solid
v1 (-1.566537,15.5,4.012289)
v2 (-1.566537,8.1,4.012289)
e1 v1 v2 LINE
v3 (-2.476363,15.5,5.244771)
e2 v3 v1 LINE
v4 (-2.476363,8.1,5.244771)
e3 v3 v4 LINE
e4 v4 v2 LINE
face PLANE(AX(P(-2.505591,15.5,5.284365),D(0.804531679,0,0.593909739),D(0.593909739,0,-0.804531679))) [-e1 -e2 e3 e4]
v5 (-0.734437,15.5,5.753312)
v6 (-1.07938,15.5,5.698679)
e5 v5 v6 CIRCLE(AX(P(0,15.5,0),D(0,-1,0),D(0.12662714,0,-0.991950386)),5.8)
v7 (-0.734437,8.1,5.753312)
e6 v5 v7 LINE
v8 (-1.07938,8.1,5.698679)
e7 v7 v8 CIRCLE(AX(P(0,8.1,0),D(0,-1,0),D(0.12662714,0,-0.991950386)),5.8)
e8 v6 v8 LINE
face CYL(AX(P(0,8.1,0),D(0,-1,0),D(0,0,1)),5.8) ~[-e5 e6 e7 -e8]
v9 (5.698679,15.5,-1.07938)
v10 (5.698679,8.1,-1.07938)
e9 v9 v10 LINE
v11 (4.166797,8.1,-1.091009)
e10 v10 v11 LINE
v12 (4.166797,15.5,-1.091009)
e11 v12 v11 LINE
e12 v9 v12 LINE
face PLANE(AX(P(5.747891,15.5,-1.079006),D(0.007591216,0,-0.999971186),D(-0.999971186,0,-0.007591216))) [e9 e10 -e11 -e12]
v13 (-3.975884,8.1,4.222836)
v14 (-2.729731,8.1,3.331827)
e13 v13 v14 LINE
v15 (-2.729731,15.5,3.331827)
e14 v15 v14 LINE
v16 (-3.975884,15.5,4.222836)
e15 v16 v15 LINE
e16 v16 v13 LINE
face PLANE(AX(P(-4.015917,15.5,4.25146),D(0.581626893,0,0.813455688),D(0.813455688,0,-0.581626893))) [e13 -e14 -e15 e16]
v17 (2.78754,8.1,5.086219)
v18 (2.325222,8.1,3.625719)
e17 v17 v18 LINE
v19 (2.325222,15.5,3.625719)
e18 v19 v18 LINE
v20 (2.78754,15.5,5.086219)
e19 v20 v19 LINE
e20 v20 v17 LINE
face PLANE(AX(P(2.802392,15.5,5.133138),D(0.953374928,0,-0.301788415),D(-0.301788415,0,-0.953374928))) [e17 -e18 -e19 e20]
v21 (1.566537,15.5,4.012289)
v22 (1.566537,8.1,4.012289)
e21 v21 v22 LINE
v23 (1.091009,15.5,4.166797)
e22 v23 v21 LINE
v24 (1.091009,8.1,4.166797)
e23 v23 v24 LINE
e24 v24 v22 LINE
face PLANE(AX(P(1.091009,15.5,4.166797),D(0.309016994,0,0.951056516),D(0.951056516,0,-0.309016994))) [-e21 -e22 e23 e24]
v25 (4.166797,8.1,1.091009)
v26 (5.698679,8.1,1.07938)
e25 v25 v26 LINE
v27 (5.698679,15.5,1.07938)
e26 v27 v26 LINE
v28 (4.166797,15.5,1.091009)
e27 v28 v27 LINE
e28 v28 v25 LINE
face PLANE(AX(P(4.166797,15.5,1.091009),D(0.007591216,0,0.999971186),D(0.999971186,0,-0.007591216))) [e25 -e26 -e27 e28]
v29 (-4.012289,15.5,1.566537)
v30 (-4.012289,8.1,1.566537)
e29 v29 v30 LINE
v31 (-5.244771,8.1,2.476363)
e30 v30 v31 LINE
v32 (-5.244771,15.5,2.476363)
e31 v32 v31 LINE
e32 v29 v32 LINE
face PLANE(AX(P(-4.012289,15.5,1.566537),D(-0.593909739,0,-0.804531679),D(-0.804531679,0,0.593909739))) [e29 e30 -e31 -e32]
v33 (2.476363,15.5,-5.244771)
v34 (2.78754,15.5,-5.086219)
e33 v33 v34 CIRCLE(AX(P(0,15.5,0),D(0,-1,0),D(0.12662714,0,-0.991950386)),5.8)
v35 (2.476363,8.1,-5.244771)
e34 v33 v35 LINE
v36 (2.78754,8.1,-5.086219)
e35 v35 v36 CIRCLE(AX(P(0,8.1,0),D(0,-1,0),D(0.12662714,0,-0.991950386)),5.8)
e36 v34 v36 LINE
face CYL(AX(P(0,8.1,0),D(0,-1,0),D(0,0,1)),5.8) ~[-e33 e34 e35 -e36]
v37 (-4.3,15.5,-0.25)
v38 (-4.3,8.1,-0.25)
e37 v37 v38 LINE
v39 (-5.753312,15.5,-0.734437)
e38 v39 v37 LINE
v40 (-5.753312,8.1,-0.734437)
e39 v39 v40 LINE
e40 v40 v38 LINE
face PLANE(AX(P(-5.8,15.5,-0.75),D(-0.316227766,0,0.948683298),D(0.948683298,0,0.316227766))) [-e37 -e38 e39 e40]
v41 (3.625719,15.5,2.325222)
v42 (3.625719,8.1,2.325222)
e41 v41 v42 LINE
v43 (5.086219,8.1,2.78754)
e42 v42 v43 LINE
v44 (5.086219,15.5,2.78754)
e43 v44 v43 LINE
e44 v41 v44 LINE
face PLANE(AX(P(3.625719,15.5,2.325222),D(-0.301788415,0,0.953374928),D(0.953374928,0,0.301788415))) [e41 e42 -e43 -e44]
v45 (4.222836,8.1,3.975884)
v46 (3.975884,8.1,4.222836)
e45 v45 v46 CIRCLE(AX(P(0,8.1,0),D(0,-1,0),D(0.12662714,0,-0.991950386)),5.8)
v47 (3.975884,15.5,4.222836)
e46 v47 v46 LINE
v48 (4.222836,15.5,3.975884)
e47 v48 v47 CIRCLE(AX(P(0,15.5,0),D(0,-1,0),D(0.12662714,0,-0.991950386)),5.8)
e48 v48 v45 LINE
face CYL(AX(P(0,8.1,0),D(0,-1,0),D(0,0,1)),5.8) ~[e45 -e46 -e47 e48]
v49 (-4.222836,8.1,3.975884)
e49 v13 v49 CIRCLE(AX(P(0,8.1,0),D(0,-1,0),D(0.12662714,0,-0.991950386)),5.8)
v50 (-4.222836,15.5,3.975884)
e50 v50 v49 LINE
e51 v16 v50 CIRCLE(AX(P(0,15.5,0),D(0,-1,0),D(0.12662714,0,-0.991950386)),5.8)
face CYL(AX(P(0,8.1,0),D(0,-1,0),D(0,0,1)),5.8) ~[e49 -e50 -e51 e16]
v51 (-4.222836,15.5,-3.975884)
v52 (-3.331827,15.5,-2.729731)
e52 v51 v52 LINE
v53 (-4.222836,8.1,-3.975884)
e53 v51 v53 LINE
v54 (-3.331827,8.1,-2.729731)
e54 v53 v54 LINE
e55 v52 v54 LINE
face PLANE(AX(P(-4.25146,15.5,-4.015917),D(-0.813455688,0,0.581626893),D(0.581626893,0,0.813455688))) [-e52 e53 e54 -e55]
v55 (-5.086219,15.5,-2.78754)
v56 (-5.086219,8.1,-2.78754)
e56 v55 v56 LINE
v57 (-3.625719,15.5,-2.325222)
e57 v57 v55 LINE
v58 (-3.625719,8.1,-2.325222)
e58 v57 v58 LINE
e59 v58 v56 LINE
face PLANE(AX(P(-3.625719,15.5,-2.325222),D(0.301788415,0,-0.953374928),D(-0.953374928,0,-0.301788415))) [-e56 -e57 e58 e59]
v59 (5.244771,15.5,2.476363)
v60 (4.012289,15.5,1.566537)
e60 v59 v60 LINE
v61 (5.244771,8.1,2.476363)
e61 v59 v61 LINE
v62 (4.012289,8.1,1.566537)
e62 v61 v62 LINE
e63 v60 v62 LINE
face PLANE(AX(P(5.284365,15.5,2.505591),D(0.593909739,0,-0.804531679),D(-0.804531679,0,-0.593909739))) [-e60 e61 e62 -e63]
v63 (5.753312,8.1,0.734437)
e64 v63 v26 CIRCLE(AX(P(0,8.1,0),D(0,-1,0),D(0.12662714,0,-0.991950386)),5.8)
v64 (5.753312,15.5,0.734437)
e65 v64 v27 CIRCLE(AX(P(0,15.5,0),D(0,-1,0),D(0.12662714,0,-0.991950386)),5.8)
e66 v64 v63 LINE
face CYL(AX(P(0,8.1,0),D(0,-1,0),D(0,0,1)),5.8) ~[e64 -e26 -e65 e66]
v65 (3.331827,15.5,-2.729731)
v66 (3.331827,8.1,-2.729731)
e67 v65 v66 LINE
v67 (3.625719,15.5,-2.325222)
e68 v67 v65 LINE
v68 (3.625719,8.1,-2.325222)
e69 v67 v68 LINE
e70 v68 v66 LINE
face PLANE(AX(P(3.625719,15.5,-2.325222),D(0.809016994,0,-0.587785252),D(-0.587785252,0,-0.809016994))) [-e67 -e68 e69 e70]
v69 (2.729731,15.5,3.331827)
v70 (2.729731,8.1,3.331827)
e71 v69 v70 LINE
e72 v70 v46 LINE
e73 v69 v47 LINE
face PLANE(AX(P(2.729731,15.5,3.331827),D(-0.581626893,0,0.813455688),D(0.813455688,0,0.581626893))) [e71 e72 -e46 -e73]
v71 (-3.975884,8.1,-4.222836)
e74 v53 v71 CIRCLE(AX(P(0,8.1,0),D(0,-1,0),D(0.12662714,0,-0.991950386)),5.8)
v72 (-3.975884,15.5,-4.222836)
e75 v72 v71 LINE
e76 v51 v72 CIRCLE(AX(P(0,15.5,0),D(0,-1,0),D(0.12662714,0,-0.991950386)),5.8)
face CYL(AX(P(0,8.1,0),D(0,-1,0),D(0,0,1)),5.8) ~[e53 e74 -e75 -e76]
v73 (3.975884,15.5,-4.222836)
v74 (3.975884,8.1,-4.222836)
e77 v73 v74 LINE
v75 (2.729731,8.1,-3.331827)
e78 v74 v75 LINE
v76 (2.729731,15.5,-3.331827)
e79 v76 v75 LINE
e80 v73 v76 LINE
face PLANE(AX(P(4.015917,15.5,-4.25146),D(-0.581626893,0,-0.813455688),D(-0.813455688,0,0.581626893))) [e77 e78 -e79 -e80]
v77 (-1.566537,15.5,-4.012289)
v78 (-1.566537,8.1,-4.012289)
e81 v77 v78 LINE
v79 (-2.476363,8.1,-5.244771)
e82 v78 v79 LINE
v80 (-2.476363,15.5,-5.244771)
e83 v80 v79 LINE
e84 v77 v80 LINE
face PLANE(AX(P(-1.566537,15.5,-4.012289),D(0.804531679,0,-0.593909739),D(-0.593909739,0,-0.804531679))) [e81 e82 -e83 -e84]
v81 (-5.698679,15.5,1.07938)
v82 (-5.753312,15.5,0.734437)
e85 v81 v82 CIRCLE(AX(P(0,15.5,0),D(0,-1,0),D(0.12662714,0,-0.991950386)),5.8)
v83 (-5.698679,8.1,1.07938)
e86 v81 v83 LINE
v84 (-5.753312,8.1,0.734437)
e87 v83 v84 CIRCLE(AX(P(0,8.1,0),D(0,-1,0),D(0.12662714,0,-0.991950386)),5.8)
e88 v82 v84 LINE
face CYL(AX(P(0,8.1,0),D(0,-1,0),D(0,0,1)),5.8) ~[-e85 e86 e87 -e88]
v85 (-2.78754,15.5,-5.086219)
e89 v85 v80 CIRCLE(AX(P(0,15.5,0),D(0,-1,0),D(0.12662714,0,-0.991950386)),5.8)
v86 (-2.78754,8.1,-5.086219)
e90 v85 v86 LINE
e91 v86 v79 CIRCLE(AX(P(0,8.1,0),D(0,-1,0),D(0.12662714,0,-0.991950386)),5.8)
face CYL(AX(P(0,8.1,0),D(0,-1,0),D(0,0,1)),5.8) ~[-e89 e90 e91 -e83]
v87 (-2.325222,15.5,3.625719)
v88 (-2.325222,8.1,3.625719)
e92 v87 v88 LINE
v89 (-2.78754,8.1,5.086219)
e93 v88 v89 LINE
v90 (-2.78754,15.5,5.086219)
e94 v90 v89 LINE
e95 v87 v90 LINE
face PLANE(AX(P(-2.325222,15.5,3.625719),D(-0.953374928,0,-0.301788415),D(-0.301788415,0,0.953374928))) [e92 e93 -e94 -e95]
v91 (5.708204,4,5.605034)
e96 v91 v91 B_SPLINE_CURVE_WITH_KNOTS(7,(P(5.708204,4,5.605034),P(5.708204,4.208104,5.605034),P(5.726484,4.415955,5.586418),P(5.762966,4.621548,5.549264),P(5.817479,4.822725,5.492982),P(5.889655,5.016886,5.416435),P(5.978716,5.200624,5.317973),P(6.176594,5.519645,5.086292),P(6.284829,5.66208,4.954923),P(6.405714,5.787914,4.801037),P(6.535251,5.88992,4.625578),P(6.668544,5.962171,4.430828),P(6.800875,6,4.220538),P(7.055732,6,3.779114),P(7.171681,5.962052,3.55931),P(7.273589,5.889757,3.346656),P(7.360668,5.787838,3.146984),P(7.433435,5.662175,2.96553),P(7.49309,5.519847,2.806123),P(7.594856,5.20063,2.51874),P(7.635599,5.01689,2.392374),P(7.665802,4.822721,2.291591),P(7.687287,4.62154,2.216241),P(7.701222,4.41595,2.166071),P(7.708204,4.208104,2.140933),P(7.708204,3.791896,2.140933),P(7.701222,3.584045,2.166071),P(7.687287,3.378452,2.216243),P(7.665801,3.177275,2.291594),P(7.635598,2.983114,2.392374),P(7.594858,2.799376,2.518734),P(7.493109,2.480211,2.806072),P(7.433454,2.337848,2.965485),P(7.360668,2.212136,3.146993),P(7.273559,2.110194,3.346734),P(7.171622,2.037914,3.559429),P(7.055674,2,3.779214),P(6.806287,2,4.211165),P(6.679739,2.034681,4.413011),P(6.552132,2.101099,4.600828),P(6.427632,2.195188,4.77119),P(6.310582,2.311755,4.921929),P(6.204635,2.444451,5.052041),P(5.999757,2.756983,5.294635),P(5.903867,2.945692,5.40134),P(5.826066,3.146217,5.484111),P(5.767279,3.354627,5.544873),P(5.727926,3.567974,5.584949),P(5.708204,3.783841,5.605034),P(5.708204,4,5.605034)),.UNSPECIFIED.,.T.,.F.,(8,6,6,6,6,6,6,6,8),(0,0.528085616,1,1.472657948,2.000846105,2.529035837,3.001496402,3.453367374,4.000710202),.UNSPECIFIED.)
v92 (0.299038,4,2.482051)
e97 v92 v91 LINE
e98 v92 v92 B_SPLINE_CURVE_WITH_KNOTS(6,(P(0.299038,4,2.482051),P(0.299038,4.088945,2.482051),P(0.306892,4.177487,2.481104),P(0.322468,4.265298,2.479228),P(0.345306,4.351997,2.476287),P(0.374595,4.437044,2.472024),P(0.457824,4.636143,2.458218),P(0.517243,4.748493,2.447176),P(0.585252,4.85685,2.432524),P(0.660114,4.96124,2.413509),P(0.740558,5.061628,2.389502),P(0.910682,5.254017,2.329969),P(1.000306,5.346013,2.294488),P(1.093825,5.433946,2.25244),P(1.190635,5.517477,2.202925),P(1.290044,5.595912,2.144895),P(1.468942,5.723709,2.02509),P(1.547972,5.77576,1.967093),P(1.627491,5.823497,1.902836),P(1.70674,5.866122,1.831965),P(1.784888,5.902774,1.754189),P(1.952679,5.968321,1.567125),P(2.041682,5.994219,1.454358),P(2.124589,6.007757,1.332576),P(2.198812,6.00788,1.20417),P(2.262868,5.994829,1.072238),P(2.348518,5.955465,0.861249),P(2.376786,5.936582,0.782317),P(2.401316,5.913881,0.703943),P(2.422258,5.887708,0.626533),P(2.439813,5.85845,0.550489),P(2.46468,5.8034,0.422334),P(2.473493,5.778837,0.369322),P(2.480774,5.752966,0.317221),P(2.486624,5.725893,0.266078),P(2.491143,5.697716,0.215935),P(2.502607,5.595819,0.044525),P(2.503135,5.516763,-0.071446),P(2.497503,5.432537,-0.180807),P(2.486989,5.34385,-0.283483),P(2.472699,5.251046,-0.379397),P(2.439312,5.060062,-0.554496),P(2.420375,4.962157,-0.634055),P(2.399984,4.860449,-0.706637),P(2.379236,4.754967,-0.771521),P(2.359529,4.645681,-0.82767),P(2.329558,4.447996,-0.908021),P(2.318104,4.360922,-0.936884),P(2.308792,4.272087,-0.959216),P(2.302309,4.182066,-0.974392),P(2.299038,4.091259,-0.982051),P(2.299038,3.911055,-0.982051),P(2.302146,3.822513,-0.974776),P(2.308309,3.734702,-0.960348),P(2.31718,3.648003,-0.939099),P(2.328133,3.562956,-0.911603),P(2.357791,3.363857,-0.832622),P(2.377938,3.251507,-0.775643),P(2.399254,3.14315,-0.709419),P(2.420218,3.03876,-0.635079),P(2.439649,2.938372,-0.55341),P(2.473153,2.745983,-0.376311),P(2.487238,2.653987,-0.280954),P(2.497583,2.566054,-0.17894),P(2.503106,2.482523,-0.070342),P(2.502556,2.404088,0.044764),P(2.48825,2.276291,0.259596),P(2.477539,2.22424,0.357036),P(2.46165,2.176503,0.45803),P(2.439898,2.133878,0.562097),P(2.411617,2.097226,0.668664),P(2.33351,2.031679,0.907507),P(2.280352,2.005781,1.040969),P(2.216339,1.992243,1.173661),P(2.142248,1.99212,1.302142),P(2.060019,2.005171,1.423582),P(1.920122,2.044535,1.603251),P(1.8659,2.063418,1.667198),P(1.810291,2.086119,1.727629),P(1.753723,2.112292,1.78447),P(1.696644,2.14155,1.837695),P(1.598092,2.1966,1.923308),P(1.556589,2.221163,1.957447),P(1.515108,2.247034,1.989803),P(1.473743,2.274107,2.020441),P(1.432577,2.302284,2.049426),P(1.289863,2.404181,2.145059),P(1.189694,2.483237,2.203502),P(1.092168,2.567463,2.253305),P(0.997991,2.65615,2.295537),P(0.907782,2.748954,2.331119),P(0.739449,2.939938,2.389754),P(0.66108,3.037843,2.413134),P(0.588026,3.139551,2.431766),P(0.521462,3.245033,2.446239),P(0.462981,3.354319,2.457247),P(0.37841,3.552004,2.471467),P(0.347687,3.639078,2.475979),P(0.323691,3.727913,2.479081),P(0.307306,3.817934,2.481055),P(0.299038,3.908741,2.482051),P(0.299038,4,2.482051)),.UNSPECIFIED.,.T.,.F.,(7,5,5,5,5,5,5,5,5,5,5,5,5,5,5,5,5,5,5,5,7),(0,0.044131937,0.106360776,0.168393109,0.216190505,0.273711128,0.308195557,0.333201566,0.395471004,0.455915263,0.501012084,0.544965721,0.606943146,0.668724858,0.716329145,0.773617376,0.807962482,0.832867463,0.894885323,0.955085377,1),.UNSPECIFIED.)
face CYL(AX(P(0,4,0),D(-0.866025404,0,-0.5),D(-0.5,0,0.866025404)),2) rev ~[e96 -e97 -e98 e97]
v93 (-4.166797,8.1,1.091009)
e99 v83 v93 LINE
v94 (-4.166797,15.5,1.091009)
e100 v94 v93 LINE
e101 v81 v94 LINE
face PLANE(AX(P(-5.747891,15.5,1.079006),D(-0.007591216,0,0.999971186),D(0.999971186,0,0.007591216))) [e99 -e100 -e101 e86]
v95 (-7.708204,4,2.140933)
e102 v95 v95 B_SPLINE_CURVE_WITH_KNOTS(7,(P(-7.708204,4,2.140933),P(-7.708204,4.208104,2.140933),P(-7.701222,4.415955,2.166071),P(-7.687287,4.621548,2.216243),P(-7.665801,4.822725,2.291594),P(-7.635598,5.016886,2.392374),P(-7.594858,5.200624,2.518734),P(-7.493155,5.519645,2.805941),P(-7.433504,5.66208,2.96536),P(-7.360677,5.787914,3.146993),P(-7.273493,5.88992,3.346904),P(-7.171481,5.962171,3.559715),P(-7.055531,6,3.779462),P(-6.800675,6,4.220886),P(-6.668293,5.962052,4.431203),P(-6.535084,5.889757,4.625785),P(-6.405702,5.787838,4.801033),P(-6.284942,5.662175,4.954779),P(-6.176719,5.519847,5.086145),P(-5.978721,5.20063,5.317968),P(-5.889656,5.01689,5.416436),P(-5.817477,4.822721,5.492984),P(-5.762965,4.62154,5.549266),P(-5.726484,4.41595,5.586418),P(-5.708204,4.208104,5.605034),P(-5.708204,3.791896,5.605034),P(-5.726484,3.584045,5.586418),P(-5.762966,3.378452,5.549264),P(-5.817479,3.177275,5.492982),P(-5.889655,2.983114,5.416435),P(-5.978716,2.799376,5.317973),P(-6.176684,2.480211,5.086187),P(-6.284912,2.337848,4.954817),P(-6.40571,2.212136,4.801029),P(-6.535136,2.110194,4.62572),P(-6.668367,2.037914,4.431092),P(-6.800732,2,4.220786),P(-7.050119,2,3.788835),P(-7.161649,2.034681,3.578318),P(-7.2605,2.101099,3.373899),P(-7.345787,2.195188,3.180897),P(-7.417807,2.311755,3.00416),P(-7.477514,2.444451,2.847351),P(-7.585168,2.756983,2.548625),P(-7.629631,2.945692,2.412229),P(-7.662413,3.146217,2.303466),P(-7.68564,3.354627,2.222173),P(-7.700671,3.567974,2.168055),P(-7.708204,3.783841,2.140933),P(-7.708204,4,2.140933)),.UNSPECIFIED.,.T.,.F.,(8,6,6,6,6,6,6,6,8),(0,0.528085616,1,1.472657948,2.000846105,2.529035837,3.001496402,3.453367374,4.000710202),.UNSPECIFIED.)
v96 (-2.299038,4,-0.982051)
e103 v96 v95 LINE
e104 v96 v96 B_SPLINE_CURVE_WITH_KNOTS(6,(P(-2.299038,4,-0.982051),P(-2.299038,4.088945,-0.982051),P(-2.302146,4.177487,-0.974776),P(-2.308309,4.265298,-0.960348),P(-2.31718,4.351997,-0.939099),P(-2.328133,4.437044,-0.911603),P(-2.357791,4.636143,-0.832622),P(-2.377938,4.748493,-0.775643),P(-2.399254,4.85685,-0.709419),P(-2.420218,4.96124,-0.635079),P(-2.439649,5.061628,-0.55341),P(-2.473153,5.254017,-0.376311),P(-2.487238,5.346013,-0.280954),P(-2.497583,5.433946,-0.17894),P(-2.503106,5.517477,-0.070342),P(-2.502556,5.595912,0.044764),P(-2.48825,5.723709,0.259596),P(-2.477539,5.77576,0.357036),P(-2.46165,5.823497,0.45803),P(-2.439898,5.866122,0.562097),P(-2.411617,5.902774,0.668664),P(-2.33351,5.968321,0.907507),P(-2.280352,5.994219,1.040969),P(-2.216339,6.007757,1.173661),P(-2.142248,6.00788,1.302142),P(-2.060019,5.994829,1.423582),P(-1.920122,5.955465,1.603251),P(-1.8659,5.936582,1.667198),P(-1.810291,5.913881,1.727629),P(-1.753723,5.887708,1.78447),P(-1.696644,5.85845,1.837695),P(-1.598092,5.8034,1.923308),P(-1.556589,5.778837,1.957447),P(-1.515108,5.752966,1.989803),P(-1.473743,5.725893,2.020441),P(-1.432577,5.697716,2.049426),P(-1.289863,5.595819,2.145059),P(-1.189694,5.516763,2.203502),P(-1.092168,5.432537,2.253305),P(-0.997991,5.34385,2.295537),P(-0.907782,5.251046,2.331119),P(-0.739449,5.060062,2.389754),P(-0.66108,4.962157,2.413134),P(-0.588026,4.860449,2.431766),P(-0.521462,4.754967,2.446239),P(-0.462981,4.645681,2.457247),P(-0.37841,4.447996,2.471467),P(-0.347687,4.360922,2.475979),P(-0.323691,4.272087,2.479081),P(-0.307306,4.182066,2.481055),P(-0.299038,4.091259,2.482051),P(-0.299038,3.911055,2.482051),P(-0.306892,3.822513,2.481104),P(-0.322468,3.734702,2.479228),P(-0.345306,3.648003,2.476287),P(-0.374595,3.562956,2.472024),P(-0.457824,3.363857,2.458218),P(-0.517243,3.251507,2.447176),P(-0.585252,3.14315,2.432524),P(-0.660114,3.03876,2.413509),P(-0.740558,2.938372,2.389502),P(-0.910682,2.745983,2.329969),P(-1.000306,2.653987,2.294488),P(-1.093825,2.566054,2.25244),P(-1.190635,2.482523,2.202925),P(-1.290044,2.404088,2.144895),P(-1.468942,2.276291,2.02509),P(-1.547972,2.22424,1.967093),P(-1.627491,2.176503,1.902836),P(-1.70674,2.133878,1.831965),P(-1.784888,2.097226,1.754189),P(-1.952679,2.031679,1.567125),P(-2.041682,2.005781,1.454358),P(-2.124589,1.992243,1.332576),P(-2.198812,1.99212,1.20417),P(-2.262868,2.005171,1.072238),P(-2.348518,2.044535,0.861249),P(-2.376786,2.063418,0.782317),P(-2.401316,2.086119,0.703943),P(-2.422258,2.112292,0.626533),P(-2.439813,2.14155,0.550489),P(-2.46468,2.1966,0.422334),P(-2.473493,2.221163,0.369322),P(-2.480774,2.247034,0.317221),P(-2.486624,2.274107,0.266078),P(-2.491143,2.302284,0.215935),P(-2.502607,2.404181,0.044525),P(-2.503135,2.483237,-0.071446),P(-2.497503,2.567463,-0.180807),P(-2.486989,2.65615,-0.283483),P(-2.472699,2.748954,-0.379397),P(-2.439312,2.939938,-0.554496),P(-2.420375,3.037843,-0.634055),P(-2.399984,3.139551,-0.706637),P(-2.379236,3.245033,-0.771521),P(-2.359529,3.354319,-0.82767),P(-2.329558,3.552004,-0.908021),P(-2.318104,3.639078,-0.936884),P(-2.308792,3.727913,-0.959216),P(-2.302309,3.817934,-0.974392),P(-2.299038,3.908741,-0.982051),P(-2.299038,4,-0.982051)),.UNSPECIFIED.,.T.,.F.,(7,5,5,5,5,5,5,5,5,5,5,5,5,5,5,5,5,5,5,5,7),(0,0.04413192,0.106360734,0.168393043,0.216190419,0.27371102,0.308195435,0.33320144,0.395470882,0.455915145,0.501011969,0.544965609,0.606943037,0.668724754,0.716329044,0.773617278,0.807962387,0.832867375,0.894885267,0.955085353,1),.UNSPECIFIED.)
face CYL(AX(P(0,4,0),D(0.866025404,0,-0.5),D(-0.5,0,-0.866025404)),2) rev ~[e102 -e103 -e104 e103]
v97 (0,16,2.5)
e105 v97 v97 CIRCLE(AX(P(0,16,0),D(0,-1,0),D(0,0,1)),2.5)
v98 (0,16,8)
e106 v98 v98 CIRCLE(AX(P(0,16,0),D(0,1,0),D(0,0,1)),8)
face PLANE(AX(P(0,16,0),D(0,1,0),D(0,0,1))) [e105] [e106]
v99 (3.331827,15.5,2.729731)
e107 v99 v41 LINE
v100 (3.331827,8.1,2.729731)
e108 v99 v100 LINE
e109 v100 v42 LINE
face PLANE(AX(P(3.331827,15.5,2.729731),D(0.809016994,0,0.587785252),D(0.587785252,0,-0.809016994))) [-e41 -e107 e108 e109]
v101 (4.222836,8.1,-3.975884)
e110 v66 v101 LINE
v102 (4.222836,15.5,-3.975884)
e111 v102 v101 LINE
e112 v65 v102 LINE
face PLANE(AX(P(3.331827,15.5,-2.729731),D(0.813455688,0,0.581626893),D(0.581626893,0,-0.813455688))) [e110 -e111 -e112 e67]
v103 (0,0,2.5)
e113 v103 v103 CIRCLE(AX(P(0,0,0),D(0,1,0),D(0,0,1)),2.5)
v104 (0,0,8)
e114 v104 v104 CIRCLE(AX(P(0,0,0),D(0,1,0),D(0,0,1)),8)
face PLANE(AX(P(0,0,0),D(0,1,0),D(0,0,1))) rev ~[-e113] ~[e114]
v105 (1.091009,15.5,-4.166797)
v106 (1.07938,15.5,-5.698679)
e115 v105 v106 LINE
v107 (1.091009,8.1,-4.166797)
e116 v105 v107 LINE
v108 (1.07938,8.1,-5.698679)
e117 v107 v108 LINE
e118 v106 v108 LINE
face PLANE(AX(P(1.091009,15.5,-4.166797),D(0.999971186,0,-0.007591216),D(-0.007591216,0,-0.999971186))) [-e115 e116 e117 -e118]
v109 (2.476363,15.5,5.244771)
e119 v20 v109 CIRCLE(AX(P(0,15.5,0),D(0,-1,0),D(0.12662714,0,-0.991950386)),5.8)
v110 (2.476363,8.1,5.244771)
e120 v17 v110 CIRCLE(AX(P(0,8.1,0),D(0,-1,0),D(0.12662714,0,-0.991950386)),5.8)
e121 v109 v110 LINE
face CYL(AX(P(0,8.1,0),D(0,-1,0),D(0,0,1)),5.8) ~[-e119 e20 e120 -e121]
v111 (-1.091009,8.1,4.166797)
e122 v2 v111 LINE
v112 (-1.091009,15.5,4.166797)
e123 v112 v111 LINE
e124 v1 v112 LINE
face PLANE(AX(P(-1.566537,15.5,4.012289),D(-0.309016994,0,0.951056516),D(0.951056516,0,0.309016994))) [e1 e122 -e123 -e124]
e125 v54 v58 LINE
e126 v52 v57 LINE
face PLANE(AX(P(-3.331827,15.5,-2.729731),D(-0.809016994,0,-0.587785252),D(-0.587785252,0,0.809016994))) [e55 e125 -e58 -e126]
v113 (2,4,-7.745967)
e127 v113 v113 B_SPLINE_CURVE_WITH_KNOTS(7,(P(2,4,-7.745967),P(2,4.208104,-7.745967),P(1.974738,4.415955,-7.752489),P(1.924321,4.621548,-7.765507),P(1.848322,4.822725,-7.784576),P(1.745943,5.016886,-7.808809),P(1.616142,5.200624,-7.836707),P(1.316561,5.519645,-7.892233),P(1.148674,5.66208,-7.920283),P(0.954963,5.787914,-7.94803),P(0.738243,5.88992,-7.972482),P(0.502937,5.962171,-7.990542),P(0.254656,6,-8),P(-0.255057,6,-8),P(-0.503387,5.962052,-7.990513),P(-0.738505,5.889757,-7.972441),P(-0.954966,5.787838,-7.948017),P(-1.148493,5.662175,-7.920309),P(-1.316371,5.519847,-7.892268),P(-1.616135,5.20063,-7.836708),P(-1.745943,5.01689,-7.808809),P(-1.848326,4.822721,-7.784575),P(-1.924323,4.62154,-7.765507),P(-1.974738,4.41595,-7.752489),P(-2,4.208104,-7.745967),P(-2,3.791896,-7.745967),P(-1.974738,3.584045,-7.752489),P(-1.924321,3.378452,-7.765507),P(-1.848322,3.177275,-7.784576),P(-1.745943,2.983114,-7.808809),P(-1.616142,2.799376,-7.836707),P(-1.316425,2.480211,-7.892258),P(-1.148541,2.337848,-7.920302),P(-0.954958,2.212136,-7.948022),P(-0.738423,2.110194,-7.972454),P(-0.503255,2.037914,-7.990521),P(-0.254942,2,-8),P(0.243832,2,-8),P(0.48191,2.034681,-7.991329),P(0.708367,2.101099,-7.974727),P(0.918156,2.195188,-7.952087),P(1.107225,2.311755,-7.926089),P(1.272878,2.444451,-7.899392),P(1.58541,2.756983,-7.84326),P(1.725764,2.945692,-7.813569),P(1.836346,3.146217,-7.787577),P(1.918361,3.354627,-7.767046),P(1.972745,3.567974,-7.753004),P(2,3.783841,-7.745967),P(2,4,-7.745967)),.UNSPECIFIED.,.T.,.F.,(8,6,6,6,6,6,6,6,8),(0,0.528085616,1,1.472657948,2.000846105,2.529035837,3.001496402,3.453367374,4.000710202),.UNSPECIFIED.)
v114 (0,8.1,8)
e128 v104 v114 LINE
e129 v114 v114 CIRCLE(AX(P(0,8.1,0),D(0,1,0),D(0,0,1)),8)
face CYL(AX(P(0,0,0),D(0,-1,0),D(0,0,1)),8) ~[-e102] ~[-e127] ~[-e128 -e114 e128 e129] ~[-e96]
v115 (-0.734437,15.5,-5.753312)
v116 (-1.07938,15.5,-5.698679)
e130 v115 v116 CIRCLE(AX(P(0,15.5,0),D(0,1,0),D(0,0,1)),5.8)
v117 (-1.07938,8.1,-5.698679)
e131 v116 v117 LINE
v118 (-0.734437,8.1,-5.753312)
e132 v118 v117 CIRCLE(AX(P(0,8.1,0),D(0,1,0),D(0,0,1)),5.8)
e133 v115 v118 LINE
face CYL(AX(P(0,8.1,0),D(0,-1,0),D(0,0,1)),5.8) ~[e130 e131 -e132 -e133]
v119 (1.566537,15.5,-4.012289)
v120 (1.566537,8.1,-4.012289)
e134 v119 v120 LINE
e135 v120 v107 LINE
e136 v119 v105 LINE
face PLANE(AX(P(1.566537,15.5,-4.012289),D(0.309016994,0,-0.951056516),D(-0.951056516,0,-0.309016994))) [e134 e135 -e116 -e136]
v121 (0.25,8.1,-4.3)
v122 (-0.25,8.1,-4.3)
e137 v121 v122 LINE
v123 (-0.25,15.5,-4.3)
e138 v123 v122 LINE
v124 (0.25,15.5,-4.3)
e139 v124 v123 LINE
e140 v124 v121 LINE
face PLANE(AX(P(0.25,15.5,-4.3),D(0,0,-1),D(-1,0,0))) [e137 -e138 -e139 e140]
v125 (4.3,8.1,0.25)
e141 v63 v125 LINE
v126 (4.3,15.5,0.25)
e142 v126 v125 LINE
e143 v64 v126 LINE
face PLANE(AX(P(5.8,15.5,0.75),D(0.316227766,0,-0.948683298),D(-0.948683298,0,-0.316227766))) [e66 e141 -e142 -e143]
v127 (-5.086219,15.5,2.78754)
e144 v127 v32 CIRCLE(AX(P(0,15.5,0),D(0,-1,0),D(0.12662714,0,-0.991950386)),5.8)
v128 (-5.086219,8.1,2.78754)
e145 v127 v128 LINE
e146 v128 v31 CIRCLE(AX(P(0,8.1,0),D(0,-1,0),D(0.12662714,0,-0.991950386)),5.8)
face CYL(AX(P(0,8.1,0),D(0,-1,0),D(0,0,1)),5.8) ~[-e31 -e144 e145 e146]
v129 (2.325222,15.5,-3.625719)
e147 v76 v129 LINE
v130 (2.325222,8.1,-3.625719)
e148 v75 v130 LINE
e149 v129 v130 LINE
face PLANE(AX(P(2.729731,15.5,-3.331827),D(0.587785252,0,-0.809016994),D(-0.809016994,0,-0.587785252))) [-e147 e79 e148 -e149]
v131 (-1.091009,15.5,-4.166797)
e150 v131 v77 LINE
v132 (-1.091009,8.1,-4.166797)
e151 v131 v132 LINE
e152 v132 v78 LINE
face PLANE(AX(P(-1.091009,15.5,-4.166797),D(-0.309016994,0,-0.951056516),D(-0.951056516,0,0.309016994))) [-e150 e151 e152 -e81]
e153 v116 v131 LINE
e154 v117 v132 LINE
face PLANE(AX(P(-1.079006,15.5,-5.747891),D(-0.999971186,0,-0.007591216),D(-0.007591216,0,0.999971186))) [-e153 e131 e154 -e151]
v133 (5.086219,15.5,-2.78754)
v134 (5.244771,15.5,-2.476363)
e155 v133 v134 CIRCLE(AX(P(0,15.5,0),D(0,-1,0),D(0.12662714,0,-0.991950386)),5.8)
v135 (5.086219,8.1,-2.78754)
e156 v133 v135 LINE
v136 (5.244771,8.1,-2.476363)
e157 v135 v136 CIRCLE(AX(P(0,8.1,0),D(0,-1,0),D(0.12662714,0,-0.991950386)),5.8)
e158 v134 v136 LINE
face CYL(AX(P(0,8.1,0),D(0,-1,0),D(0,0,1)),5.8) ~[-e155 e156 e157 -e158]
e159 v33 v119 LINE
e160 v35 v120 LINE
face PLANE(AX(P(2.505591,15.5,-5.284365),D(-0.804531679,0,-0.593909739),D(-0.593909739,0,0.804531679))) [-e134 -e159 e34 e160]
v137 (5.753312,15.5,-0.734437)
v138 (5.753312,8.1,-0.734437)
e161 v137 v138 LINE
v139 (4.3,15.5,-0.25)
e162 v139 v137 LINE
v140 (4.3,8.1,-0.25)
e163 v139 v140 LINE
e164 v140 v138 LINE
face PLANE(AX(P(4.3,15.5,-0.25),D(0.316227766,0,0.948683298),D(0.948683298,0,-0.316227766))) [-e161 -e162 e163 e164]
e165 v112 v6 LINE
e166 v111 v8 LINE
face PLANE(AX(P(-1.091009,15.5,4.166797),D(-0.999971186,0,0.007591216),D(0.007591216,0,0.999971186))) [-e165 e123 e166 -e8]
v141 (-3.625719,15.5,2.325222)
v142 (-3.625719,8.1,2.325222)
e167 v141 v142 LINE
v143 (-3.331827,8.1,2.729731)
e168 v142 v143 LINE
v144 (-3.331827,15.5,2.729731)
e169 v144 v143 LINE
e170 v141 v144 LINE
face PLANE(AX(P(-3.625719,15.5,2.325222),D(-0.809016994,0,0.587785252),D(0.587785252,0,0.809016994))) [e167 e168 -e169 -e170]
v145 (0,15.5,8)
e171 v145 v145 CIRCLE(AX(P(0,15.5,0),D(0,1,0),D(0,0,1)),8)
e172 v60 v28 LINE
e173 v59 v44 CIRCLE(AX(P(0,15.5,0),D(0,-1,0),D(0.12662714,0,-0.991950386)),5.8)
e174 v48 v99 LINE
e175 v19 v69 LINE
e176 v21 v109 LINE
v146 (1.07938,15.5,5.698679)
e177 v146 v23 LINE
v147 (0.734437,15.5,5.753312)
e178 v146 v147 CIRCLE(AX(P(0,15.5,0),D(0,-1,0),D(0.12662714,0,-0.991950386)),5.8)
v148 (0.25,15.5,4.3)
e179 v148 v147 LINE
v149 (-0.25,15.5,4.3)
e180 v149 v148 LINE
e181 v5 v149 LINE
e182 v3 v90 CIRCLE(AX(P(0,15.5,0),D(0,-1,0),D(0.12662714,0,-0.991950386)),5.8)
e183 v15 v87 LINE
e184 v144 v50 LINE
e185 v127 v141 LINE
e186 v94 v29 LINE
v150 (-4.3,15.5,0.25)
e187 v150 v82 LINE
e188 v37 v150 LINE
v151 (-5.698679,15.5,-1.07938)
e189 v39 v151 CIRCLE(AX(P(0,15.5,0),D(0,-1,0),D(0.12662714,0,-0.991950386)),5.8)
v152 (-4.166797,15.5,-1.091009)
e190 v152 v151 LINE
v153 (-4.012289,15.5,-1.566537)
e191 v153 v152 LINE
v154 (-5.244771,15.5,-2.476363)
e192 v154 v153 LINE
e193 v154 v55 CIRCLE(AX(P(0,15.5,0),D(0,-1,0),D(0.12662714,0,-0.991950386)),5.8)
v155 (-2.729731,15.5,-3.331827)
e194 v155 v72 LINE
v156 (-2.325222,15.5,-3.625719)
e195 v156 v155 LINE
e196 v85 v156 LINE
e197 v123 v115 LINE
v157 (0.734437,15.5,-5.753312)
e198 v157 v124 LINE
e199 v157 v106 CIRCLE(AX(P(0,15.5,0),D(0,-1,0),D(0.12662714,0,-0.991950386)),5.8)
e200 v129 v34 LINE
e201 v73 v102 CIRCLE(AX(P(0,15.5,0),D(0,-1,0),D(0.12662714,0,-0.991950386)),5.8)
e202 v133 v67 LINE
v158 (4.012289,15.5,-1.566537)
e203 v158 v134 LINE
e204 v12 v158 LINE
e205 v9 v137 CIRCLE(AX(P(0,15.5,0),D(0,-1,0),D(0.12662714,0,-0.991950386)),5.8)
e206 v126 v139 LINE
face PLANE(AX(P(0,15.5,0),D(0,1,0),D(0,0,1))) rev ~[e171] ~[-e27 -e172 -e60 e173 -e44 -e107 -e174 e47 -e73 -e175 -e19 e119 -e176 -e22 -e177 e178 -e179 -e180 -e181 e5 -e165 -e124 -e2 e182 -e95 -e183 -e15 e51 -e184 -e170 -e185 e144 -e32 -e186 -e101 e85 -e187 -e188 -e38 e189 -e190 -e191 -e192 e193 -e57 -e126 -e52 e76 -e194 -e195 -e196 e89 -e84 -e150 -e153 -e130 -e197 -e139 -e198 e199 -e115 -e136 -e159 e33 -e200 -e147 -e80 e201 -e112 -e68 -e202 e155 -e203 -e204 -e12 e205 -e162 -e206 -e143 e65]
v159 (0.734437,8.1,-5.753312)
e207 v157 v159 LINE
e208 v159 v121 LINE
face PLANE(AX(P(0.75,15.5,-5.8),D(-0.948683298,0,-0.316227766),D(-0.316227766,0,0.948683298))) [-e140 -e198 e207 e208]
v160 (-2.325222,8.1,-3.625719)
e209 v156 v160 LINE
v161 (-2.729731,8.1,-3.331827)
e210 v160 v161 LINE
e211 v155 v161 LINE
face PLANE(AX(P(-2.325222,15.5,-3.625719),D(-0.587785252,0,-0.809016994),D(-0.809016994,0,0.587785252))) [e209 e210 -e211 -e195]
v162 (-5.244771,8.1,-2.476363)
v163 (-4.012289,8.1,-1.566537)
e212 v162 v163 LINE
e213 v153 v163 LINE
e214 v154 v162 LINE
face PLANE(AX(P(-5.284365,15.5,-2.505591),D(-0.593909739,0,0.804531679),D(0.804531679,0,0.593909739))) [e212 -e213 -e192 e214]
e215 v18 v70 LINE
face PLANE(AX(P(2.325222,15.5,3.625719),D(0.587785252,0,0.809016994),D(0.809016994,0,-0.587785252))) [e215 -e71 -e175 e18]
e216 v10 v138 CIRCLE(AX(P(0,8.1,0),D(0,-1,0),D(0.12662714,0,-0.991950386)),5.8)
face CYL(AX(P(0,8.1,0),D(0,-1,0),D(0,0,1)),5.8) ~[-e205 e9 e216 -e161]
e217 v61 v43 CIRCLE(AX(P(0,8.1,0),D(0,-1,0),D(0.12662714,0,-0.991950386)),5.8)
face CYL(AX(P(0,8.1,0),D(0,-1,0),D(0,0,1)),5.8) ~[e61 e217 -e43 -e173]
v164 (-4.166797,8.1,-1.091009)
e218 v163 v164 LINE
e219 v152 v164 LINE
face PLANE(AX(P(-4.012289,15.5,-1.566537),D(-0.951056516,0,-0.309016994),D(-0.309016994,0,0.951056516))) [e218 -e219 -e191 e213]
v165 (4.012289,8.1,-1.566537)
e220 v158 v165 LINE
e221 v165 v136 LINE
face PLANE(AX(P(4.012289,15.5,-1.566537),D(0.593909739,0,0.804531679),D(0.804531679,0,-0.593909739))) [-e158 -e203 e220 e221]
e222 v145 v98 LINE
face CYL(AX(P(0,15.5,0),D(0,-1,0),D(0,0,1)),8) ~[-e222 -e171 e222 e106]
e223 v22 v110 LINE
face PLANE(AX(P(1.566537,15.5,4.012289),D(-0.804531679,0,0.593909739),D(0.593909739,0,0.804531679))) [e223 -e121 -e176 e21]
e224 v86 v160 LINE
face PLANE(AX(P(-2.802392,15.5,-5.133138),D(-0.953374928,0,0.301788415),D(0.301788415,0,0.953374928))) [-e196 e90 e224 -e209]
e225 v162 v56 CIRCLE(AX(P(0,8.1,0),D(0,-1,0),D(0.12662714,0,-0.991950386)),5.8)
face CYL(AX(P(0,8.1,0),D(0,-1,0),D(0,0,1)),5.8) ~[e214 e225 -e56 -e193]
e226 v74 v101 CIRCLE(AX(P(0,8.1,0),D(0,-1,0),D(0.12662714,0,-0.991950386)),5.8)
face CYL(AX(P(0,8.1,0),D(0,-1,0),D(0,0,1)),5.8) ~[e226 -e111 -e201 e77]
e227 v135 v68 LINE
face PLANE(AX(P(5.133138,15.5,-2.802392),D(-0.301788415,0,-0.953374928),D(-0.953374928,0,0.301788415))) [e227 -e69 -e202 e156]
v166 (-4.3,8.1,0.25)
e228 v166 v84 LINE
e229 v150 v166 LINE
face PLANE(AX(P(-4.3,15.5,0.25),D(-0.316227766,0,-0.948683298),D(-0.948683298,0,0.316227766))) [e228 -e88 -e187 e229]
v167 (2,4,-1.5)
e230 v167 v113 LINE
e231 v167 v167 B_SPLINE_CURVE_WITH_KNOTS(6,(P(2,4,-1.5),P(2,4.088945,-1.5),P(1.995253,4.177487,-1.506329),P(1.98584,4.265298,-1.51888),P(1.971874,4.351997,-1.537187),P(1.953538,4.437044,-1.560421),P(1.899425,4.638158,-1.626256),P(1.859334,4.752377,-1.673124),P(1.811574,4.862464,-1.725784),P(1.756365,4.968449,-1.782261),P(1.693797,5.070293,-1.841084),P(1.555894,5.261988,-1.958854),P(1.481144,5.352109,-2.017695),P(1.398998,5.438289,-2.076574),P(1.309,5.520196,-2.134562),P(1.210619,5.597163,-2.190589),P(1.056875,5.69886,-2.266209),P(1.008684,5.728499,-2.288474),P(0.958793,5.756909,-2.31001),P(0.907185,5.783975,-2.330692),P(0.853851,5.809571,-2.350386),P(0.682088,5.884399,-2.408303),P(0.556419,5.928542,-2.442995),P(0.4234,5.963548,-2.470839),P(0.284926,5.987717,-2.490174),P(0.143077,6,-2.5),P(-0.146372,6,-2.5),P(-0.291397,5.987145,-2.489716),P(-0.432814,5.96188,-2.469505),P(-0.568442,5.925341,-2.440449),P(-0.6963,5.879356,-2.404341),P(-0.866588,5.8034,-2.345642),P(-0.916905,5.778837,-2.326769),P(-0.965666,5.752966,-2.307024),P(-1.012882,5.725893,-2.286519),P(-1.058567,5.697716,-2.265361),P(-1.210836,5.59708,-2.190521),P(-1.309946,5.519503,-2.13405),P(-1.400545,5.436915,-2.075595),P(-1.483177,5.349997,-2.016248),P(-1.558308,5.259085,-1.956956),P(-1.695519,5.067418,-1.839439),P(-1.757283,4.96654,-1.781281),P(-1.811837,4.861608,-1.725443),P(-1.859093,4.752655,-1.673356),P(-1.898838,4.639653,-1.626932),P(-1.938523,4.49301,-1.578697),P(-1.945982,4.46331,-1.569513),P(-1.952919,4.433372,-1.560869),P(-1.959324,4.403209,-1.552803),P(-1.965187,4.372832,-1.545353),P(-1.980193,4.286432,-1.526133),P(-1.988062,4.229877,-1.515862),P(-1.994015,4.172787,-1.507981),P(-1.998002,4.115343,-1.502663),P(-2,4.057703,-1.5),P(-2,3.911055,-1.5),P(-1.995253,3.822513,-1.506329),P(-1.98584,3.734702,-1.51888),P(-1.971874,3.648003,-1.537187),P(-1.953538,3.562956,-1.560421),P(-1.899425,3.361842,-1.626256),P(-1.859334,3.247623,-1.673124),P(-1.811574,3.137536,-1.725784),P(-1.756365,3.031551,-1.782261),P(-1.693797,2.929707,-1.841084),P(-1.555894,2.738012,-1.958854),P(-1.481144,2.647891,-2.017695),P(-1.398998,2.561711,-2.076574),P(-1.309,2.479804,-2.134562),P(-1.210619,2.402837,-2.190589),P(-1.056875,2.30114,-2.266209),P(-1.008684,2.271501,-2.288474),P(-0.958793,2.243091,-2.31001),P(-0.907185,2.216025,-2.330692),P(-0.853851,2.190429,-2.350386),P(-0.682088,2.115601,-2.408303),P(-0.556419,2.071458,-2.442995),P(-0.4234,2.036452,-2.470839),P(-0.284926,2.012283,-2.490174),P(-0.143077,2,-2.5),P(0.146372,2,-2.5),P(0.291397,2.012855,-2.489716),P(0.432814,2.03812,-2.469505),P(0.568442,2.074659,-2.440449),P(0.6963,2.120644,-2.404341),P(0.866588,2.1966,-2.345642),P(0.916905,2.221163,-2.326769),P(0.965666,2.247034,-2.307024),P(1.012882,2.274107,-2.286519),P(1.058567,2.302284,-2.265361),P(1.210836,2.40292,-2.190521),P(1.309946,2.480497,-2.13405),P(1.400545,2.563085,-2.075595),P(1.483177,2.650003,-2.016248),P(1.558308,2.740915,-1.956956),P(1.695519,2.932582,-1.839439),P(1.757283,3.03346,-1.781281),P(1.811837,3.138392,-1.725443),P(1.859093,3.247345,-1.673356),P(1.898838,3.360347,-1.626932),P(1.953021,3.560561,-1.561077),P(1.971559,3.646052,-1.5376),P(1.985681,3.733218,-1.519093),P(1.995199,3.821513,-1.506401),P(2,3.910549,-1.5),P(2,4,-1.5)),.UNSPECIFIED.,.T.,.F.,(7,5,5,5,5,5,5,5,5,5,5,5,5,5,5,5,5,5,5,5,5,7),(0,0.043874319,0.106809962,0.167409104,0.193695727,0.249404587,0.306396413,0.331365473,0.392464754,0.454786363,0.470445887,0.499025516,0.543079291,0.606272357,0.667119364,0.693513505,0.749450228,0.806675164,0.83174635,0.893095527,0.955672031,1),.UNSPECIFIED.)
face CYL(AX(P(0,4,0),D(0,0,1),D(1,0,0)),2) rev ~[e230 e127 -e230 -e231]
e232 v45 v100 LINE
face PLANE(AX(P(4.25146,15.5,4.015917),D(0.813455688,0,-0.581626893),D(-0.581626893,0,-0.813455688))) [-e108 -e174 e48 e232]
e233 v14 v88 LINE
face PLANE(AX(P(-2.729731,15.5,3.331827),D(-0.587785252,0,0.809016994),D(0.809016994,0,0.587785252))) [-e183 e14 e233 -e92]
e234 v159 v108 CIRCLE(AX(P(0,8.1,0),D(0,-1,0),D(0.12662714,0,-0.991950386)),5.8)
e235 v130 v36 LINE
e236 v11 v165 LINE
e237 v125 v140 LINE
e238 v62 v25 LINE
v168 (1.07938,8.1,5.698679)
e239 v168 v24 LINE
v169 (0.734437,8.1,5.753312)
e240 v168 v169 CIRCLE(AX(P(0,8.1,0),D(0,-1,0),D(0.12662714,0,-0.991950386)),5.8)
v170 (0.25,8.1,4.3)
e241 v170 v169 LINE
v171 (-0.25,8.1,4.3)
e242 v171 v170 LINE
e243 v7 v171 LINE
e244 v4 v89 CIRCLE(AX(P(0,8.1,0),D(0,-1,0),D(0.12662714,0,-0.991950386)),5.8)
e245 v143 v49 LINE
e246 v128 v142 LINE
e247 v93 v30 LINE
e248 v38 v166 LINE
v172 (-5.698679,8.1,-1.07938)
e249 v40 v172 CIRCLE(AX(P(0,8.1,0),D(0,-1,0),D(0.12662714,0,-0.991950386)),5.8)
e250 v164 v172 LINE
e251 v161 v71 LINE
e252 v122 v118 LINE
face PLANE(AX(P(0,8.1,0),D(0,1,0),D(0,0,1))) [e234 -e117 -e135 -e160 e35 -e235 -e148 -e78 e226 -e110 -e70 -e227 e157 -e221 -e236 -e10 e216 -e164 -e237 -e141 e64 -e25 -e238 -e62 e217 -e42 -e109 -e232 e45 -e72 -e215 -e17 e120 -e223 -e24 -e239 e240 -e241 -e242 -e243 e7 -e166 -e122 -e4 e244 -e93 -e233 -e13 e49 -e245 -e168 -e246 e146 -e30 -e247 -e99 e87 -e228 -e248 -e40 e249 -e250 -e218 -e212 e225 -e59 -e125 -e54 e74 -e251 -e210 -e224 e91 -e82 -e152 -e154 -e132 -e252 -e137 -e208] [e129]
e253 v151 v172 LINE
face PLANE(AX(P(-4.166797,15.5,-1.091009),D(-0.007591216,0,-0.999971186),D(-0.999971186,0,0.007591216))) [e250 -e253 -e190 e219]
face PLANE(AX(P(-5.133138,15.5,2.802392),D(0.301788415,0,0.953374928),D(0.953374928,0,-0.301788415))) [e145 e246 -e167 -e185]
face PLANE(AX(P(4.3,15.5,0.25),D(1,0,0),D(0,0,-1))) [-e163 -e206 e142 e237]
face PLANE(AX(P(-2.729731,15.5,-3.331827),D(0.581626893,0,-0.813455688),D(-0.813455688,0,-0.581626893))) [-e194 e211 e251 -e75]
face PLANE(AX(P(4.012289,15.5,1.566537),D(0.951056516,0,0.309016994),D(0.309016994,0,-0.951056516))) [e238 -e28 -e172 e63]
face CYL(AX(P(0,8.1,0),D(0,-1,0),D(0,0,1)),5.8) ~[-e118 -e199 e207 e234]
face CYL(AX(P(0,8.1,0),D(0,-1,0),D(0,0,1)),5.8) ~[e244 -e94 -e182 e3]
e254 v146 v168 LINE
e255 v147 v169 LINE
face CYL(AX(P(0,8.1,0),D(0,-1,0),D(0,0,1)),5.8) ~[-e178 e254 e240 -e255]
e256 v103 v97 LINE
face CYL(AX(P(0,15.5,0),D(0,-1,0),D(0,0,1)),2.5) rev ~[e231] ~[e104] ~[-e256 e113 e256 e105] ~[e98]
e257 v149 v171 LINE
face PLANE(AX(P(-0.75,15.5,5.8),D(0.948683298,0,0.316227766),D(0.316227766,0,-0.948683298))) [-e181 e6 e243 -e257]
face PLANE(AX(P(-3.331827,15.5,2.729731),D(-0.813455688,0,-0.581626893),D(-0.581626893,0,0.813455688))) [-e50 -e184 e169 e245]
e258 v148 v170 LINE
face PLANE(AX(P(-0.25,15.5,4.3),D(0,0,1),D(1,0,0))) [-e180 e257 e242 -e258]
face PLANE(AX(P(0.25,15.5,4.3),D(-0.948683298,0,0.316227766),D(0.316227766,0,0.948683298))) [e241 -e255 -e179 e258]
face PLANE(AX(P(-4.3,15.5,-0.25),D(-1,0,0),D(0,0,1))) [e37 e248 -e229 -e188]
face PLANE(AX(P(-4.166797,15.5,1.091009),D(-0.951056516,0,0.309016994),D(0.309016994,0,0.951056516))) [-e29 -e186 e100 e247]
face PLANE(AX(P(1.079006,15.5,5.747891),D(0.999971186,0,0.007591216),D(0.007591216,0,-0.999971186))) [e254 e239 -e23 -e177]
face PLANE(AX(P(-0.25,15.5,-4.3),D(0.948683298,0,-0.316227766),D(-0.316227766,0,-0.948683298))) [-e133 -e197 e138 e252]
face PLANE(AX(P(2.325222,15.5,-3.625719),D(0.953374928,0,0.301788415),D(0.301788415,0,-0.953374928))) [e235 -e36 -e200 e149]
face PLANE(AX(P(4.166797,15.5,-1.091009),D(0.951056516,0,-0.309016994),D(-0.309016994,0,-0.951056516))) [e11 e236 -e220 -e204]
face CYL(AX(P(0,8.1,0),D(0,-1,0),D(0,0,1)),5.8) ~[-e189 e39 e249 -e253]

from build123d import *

# Parameters (mm, degrees)
SKETCH11_R               = 8
BOSS_EXTRUDE5_DEPTH      = 15.5
SKETCH12_R               = 2.5
CUT_EXTRUDE9_DEPTH       = 20.189841062
CUT_EXTRUDE11_START      = -7.4
SKETCH14_R               = 8
SKETCH14_R_2             = 5.8
CUT_EXTRUDE11_DEPTH      = 7.4
CUT_EXTRUDE12_DEPTH      = 7.4
CIRPATTERN5_COUNT        = 20
SKETCH16_R               = 8
BOSS_EXTRUDE6_DEPTH      = 0.5
SKETCH17_R               = 2.5
CUT_EXTRUDE13_DEPTH      = 20.189841062
CUT_EXTRUDE14_REACH      = 21.596
CUT_EXTRUDE14_END_RADIUS = 8
SKETCH18_R               = 2
CIRPATTERN6_COUNT        = 3


with BuildPart() as part:
    # Sketch11 → Boss-Extrude5 (new body)
    with BuildSketch(Plane(origin=(0, 0, 0), x_dir=(1, 0, 0), z_dir=(0, 1, 0))):
        with Locations(Location((0, 0, 0), (0, 0, 270))):
            Circle(SKETCH11_R)
    extrude(amount=BOSS_EXTRUDE5_DEPTH)

    # Sketch12 → Cut-Extrude9 (cut, through all)
    with BuildSketch(Plane(origin=(0, 15.5, 0), x_dir=(1, 0, 0), z_dir=(0, 1, 0))):
        with Locations(Location((0, 0, 0), (0, 0, 270))):
            Circle(SKETCH12_R)
    extrude(amount=-CUT_EXTRUDE9_DEPTH, mode=Mode.SUBTRACT)

    # Sketch14 → Cut-Extrude11 (cut)
    with BuildSketch(Plane(origin=(0, 15.5, 0), x_dir=(1, 0, 0), z_dir=(0, 1, 0)).offset(CUT_EXTRUDE11_START)):
        with Locations(Location((0, 0, 0), (0, 0, 270))):
            Circle(SKETCH14_R)
        with Locations(Location((0, 0, 0), (0, 0, 270))):
            Circle(SKETCH14_R_2, mode=Mode.SUBTRACT)
    extrude(amount=CUT_EXTRUDE11_DEPTH, mode=Mode.SUBTRACT)

    # Sketch15 → Cut-Extrude12 (cut)
    with BuildSketch(Plane(origin=(0, 15.5, 0), x_dir=(1, 0, 0), z_dir=(0, 1, 0))):
        Polygon((-0.75, 5.8), (0.75, 5.8), (0.25, 4.3), (-0.25, 4.3), align=None)
    cut_extrude12 = extrude(amount=-CUT_EXTRUDE12_DEPTH, mode=Mode.SUBTRACT)

    # CirPattern5: Cut-Extrude12 ×20 about axis
    cirpattern5_axis = Axis((0, 0, 0), (0, 1, 0))
    for i in range(1, CIRPATTERN5_COUNT):
        add(cut_extrude12.rotate(cirpattern5_axis, i * 360 / CIRPATTERN5_COUNT), mode=Mode.SUBTRACT)

    # Sketch16 → Boss-Extrude6 (add)
    with BuildSketch(Plane(origin=(0, 15.5, 0), x_dir=(1, 0, 0), z_dir=(0, 1, 0))):
        with Locations(Location((0, 0, 0), (0, 0, 270))):
            Circle(SKETCH16_R)
    extrude(amount=BOSS_EXTRUDE6_DEPTH)

    # Sketch17 → Cut-Extrude13 (cut, through all)
    with BuildSketch(Plane.XZ.offset(-15.5)):
        with Locations(Location((0, 0, 0), (0, 0, 90))):
            Circle(SKETCH17_R)
    extrude(amount=-CUT_EXTRUDE13_DEPTH, mode=Mode.SUBTRACT)

    # Cut-Extrude14: up to this cylinder (the profile starts inside it)
    cut_extrude14_end = Plane(origin=(0, 4, 0), z_dir=(0, -1, 0)) * Cylinder(CUT_EXTRUDE14_END_RADIUS, 60.192, mode=Mode.PRIVATE)
    # Sketch18 → Cut-Extrude14 (cut, up to the surface)
    with BuildSketch(Plane.XY, mode=Mode.PRIVATE) as cut_extrude14_sk1:
        with Locations((0, 4)):
            Circle(SKETCH18_R)
    cut_extrude14_tool1 = extrude(cut_extrude14_sk1.sketch, amount=-CUT_EXTRUDE14_REACH, mode=Mode.PRIVATE) & cut_extrude14_end
    cut_extrude14 = cut_extrude14_tool1.solids().sort_by_distance((0, 4, 0))[0]
    add(cut_extrude14, mode=Mode.SUBTRACT)

    # CirPattern6: Cut-Extrude14 ×3 about axis
    cirpattern6_axis = Axis((0, 0, 0), (0, 1, 0))
    for i in range(1, CIRPATTERN6_COUNT):
        add(cut_extrude14.rotate(cirpattern6_axis, i * 360 / CIRPATTERN6_COUNT), mode=Mode.SUBTRACT)


solid = part.part
